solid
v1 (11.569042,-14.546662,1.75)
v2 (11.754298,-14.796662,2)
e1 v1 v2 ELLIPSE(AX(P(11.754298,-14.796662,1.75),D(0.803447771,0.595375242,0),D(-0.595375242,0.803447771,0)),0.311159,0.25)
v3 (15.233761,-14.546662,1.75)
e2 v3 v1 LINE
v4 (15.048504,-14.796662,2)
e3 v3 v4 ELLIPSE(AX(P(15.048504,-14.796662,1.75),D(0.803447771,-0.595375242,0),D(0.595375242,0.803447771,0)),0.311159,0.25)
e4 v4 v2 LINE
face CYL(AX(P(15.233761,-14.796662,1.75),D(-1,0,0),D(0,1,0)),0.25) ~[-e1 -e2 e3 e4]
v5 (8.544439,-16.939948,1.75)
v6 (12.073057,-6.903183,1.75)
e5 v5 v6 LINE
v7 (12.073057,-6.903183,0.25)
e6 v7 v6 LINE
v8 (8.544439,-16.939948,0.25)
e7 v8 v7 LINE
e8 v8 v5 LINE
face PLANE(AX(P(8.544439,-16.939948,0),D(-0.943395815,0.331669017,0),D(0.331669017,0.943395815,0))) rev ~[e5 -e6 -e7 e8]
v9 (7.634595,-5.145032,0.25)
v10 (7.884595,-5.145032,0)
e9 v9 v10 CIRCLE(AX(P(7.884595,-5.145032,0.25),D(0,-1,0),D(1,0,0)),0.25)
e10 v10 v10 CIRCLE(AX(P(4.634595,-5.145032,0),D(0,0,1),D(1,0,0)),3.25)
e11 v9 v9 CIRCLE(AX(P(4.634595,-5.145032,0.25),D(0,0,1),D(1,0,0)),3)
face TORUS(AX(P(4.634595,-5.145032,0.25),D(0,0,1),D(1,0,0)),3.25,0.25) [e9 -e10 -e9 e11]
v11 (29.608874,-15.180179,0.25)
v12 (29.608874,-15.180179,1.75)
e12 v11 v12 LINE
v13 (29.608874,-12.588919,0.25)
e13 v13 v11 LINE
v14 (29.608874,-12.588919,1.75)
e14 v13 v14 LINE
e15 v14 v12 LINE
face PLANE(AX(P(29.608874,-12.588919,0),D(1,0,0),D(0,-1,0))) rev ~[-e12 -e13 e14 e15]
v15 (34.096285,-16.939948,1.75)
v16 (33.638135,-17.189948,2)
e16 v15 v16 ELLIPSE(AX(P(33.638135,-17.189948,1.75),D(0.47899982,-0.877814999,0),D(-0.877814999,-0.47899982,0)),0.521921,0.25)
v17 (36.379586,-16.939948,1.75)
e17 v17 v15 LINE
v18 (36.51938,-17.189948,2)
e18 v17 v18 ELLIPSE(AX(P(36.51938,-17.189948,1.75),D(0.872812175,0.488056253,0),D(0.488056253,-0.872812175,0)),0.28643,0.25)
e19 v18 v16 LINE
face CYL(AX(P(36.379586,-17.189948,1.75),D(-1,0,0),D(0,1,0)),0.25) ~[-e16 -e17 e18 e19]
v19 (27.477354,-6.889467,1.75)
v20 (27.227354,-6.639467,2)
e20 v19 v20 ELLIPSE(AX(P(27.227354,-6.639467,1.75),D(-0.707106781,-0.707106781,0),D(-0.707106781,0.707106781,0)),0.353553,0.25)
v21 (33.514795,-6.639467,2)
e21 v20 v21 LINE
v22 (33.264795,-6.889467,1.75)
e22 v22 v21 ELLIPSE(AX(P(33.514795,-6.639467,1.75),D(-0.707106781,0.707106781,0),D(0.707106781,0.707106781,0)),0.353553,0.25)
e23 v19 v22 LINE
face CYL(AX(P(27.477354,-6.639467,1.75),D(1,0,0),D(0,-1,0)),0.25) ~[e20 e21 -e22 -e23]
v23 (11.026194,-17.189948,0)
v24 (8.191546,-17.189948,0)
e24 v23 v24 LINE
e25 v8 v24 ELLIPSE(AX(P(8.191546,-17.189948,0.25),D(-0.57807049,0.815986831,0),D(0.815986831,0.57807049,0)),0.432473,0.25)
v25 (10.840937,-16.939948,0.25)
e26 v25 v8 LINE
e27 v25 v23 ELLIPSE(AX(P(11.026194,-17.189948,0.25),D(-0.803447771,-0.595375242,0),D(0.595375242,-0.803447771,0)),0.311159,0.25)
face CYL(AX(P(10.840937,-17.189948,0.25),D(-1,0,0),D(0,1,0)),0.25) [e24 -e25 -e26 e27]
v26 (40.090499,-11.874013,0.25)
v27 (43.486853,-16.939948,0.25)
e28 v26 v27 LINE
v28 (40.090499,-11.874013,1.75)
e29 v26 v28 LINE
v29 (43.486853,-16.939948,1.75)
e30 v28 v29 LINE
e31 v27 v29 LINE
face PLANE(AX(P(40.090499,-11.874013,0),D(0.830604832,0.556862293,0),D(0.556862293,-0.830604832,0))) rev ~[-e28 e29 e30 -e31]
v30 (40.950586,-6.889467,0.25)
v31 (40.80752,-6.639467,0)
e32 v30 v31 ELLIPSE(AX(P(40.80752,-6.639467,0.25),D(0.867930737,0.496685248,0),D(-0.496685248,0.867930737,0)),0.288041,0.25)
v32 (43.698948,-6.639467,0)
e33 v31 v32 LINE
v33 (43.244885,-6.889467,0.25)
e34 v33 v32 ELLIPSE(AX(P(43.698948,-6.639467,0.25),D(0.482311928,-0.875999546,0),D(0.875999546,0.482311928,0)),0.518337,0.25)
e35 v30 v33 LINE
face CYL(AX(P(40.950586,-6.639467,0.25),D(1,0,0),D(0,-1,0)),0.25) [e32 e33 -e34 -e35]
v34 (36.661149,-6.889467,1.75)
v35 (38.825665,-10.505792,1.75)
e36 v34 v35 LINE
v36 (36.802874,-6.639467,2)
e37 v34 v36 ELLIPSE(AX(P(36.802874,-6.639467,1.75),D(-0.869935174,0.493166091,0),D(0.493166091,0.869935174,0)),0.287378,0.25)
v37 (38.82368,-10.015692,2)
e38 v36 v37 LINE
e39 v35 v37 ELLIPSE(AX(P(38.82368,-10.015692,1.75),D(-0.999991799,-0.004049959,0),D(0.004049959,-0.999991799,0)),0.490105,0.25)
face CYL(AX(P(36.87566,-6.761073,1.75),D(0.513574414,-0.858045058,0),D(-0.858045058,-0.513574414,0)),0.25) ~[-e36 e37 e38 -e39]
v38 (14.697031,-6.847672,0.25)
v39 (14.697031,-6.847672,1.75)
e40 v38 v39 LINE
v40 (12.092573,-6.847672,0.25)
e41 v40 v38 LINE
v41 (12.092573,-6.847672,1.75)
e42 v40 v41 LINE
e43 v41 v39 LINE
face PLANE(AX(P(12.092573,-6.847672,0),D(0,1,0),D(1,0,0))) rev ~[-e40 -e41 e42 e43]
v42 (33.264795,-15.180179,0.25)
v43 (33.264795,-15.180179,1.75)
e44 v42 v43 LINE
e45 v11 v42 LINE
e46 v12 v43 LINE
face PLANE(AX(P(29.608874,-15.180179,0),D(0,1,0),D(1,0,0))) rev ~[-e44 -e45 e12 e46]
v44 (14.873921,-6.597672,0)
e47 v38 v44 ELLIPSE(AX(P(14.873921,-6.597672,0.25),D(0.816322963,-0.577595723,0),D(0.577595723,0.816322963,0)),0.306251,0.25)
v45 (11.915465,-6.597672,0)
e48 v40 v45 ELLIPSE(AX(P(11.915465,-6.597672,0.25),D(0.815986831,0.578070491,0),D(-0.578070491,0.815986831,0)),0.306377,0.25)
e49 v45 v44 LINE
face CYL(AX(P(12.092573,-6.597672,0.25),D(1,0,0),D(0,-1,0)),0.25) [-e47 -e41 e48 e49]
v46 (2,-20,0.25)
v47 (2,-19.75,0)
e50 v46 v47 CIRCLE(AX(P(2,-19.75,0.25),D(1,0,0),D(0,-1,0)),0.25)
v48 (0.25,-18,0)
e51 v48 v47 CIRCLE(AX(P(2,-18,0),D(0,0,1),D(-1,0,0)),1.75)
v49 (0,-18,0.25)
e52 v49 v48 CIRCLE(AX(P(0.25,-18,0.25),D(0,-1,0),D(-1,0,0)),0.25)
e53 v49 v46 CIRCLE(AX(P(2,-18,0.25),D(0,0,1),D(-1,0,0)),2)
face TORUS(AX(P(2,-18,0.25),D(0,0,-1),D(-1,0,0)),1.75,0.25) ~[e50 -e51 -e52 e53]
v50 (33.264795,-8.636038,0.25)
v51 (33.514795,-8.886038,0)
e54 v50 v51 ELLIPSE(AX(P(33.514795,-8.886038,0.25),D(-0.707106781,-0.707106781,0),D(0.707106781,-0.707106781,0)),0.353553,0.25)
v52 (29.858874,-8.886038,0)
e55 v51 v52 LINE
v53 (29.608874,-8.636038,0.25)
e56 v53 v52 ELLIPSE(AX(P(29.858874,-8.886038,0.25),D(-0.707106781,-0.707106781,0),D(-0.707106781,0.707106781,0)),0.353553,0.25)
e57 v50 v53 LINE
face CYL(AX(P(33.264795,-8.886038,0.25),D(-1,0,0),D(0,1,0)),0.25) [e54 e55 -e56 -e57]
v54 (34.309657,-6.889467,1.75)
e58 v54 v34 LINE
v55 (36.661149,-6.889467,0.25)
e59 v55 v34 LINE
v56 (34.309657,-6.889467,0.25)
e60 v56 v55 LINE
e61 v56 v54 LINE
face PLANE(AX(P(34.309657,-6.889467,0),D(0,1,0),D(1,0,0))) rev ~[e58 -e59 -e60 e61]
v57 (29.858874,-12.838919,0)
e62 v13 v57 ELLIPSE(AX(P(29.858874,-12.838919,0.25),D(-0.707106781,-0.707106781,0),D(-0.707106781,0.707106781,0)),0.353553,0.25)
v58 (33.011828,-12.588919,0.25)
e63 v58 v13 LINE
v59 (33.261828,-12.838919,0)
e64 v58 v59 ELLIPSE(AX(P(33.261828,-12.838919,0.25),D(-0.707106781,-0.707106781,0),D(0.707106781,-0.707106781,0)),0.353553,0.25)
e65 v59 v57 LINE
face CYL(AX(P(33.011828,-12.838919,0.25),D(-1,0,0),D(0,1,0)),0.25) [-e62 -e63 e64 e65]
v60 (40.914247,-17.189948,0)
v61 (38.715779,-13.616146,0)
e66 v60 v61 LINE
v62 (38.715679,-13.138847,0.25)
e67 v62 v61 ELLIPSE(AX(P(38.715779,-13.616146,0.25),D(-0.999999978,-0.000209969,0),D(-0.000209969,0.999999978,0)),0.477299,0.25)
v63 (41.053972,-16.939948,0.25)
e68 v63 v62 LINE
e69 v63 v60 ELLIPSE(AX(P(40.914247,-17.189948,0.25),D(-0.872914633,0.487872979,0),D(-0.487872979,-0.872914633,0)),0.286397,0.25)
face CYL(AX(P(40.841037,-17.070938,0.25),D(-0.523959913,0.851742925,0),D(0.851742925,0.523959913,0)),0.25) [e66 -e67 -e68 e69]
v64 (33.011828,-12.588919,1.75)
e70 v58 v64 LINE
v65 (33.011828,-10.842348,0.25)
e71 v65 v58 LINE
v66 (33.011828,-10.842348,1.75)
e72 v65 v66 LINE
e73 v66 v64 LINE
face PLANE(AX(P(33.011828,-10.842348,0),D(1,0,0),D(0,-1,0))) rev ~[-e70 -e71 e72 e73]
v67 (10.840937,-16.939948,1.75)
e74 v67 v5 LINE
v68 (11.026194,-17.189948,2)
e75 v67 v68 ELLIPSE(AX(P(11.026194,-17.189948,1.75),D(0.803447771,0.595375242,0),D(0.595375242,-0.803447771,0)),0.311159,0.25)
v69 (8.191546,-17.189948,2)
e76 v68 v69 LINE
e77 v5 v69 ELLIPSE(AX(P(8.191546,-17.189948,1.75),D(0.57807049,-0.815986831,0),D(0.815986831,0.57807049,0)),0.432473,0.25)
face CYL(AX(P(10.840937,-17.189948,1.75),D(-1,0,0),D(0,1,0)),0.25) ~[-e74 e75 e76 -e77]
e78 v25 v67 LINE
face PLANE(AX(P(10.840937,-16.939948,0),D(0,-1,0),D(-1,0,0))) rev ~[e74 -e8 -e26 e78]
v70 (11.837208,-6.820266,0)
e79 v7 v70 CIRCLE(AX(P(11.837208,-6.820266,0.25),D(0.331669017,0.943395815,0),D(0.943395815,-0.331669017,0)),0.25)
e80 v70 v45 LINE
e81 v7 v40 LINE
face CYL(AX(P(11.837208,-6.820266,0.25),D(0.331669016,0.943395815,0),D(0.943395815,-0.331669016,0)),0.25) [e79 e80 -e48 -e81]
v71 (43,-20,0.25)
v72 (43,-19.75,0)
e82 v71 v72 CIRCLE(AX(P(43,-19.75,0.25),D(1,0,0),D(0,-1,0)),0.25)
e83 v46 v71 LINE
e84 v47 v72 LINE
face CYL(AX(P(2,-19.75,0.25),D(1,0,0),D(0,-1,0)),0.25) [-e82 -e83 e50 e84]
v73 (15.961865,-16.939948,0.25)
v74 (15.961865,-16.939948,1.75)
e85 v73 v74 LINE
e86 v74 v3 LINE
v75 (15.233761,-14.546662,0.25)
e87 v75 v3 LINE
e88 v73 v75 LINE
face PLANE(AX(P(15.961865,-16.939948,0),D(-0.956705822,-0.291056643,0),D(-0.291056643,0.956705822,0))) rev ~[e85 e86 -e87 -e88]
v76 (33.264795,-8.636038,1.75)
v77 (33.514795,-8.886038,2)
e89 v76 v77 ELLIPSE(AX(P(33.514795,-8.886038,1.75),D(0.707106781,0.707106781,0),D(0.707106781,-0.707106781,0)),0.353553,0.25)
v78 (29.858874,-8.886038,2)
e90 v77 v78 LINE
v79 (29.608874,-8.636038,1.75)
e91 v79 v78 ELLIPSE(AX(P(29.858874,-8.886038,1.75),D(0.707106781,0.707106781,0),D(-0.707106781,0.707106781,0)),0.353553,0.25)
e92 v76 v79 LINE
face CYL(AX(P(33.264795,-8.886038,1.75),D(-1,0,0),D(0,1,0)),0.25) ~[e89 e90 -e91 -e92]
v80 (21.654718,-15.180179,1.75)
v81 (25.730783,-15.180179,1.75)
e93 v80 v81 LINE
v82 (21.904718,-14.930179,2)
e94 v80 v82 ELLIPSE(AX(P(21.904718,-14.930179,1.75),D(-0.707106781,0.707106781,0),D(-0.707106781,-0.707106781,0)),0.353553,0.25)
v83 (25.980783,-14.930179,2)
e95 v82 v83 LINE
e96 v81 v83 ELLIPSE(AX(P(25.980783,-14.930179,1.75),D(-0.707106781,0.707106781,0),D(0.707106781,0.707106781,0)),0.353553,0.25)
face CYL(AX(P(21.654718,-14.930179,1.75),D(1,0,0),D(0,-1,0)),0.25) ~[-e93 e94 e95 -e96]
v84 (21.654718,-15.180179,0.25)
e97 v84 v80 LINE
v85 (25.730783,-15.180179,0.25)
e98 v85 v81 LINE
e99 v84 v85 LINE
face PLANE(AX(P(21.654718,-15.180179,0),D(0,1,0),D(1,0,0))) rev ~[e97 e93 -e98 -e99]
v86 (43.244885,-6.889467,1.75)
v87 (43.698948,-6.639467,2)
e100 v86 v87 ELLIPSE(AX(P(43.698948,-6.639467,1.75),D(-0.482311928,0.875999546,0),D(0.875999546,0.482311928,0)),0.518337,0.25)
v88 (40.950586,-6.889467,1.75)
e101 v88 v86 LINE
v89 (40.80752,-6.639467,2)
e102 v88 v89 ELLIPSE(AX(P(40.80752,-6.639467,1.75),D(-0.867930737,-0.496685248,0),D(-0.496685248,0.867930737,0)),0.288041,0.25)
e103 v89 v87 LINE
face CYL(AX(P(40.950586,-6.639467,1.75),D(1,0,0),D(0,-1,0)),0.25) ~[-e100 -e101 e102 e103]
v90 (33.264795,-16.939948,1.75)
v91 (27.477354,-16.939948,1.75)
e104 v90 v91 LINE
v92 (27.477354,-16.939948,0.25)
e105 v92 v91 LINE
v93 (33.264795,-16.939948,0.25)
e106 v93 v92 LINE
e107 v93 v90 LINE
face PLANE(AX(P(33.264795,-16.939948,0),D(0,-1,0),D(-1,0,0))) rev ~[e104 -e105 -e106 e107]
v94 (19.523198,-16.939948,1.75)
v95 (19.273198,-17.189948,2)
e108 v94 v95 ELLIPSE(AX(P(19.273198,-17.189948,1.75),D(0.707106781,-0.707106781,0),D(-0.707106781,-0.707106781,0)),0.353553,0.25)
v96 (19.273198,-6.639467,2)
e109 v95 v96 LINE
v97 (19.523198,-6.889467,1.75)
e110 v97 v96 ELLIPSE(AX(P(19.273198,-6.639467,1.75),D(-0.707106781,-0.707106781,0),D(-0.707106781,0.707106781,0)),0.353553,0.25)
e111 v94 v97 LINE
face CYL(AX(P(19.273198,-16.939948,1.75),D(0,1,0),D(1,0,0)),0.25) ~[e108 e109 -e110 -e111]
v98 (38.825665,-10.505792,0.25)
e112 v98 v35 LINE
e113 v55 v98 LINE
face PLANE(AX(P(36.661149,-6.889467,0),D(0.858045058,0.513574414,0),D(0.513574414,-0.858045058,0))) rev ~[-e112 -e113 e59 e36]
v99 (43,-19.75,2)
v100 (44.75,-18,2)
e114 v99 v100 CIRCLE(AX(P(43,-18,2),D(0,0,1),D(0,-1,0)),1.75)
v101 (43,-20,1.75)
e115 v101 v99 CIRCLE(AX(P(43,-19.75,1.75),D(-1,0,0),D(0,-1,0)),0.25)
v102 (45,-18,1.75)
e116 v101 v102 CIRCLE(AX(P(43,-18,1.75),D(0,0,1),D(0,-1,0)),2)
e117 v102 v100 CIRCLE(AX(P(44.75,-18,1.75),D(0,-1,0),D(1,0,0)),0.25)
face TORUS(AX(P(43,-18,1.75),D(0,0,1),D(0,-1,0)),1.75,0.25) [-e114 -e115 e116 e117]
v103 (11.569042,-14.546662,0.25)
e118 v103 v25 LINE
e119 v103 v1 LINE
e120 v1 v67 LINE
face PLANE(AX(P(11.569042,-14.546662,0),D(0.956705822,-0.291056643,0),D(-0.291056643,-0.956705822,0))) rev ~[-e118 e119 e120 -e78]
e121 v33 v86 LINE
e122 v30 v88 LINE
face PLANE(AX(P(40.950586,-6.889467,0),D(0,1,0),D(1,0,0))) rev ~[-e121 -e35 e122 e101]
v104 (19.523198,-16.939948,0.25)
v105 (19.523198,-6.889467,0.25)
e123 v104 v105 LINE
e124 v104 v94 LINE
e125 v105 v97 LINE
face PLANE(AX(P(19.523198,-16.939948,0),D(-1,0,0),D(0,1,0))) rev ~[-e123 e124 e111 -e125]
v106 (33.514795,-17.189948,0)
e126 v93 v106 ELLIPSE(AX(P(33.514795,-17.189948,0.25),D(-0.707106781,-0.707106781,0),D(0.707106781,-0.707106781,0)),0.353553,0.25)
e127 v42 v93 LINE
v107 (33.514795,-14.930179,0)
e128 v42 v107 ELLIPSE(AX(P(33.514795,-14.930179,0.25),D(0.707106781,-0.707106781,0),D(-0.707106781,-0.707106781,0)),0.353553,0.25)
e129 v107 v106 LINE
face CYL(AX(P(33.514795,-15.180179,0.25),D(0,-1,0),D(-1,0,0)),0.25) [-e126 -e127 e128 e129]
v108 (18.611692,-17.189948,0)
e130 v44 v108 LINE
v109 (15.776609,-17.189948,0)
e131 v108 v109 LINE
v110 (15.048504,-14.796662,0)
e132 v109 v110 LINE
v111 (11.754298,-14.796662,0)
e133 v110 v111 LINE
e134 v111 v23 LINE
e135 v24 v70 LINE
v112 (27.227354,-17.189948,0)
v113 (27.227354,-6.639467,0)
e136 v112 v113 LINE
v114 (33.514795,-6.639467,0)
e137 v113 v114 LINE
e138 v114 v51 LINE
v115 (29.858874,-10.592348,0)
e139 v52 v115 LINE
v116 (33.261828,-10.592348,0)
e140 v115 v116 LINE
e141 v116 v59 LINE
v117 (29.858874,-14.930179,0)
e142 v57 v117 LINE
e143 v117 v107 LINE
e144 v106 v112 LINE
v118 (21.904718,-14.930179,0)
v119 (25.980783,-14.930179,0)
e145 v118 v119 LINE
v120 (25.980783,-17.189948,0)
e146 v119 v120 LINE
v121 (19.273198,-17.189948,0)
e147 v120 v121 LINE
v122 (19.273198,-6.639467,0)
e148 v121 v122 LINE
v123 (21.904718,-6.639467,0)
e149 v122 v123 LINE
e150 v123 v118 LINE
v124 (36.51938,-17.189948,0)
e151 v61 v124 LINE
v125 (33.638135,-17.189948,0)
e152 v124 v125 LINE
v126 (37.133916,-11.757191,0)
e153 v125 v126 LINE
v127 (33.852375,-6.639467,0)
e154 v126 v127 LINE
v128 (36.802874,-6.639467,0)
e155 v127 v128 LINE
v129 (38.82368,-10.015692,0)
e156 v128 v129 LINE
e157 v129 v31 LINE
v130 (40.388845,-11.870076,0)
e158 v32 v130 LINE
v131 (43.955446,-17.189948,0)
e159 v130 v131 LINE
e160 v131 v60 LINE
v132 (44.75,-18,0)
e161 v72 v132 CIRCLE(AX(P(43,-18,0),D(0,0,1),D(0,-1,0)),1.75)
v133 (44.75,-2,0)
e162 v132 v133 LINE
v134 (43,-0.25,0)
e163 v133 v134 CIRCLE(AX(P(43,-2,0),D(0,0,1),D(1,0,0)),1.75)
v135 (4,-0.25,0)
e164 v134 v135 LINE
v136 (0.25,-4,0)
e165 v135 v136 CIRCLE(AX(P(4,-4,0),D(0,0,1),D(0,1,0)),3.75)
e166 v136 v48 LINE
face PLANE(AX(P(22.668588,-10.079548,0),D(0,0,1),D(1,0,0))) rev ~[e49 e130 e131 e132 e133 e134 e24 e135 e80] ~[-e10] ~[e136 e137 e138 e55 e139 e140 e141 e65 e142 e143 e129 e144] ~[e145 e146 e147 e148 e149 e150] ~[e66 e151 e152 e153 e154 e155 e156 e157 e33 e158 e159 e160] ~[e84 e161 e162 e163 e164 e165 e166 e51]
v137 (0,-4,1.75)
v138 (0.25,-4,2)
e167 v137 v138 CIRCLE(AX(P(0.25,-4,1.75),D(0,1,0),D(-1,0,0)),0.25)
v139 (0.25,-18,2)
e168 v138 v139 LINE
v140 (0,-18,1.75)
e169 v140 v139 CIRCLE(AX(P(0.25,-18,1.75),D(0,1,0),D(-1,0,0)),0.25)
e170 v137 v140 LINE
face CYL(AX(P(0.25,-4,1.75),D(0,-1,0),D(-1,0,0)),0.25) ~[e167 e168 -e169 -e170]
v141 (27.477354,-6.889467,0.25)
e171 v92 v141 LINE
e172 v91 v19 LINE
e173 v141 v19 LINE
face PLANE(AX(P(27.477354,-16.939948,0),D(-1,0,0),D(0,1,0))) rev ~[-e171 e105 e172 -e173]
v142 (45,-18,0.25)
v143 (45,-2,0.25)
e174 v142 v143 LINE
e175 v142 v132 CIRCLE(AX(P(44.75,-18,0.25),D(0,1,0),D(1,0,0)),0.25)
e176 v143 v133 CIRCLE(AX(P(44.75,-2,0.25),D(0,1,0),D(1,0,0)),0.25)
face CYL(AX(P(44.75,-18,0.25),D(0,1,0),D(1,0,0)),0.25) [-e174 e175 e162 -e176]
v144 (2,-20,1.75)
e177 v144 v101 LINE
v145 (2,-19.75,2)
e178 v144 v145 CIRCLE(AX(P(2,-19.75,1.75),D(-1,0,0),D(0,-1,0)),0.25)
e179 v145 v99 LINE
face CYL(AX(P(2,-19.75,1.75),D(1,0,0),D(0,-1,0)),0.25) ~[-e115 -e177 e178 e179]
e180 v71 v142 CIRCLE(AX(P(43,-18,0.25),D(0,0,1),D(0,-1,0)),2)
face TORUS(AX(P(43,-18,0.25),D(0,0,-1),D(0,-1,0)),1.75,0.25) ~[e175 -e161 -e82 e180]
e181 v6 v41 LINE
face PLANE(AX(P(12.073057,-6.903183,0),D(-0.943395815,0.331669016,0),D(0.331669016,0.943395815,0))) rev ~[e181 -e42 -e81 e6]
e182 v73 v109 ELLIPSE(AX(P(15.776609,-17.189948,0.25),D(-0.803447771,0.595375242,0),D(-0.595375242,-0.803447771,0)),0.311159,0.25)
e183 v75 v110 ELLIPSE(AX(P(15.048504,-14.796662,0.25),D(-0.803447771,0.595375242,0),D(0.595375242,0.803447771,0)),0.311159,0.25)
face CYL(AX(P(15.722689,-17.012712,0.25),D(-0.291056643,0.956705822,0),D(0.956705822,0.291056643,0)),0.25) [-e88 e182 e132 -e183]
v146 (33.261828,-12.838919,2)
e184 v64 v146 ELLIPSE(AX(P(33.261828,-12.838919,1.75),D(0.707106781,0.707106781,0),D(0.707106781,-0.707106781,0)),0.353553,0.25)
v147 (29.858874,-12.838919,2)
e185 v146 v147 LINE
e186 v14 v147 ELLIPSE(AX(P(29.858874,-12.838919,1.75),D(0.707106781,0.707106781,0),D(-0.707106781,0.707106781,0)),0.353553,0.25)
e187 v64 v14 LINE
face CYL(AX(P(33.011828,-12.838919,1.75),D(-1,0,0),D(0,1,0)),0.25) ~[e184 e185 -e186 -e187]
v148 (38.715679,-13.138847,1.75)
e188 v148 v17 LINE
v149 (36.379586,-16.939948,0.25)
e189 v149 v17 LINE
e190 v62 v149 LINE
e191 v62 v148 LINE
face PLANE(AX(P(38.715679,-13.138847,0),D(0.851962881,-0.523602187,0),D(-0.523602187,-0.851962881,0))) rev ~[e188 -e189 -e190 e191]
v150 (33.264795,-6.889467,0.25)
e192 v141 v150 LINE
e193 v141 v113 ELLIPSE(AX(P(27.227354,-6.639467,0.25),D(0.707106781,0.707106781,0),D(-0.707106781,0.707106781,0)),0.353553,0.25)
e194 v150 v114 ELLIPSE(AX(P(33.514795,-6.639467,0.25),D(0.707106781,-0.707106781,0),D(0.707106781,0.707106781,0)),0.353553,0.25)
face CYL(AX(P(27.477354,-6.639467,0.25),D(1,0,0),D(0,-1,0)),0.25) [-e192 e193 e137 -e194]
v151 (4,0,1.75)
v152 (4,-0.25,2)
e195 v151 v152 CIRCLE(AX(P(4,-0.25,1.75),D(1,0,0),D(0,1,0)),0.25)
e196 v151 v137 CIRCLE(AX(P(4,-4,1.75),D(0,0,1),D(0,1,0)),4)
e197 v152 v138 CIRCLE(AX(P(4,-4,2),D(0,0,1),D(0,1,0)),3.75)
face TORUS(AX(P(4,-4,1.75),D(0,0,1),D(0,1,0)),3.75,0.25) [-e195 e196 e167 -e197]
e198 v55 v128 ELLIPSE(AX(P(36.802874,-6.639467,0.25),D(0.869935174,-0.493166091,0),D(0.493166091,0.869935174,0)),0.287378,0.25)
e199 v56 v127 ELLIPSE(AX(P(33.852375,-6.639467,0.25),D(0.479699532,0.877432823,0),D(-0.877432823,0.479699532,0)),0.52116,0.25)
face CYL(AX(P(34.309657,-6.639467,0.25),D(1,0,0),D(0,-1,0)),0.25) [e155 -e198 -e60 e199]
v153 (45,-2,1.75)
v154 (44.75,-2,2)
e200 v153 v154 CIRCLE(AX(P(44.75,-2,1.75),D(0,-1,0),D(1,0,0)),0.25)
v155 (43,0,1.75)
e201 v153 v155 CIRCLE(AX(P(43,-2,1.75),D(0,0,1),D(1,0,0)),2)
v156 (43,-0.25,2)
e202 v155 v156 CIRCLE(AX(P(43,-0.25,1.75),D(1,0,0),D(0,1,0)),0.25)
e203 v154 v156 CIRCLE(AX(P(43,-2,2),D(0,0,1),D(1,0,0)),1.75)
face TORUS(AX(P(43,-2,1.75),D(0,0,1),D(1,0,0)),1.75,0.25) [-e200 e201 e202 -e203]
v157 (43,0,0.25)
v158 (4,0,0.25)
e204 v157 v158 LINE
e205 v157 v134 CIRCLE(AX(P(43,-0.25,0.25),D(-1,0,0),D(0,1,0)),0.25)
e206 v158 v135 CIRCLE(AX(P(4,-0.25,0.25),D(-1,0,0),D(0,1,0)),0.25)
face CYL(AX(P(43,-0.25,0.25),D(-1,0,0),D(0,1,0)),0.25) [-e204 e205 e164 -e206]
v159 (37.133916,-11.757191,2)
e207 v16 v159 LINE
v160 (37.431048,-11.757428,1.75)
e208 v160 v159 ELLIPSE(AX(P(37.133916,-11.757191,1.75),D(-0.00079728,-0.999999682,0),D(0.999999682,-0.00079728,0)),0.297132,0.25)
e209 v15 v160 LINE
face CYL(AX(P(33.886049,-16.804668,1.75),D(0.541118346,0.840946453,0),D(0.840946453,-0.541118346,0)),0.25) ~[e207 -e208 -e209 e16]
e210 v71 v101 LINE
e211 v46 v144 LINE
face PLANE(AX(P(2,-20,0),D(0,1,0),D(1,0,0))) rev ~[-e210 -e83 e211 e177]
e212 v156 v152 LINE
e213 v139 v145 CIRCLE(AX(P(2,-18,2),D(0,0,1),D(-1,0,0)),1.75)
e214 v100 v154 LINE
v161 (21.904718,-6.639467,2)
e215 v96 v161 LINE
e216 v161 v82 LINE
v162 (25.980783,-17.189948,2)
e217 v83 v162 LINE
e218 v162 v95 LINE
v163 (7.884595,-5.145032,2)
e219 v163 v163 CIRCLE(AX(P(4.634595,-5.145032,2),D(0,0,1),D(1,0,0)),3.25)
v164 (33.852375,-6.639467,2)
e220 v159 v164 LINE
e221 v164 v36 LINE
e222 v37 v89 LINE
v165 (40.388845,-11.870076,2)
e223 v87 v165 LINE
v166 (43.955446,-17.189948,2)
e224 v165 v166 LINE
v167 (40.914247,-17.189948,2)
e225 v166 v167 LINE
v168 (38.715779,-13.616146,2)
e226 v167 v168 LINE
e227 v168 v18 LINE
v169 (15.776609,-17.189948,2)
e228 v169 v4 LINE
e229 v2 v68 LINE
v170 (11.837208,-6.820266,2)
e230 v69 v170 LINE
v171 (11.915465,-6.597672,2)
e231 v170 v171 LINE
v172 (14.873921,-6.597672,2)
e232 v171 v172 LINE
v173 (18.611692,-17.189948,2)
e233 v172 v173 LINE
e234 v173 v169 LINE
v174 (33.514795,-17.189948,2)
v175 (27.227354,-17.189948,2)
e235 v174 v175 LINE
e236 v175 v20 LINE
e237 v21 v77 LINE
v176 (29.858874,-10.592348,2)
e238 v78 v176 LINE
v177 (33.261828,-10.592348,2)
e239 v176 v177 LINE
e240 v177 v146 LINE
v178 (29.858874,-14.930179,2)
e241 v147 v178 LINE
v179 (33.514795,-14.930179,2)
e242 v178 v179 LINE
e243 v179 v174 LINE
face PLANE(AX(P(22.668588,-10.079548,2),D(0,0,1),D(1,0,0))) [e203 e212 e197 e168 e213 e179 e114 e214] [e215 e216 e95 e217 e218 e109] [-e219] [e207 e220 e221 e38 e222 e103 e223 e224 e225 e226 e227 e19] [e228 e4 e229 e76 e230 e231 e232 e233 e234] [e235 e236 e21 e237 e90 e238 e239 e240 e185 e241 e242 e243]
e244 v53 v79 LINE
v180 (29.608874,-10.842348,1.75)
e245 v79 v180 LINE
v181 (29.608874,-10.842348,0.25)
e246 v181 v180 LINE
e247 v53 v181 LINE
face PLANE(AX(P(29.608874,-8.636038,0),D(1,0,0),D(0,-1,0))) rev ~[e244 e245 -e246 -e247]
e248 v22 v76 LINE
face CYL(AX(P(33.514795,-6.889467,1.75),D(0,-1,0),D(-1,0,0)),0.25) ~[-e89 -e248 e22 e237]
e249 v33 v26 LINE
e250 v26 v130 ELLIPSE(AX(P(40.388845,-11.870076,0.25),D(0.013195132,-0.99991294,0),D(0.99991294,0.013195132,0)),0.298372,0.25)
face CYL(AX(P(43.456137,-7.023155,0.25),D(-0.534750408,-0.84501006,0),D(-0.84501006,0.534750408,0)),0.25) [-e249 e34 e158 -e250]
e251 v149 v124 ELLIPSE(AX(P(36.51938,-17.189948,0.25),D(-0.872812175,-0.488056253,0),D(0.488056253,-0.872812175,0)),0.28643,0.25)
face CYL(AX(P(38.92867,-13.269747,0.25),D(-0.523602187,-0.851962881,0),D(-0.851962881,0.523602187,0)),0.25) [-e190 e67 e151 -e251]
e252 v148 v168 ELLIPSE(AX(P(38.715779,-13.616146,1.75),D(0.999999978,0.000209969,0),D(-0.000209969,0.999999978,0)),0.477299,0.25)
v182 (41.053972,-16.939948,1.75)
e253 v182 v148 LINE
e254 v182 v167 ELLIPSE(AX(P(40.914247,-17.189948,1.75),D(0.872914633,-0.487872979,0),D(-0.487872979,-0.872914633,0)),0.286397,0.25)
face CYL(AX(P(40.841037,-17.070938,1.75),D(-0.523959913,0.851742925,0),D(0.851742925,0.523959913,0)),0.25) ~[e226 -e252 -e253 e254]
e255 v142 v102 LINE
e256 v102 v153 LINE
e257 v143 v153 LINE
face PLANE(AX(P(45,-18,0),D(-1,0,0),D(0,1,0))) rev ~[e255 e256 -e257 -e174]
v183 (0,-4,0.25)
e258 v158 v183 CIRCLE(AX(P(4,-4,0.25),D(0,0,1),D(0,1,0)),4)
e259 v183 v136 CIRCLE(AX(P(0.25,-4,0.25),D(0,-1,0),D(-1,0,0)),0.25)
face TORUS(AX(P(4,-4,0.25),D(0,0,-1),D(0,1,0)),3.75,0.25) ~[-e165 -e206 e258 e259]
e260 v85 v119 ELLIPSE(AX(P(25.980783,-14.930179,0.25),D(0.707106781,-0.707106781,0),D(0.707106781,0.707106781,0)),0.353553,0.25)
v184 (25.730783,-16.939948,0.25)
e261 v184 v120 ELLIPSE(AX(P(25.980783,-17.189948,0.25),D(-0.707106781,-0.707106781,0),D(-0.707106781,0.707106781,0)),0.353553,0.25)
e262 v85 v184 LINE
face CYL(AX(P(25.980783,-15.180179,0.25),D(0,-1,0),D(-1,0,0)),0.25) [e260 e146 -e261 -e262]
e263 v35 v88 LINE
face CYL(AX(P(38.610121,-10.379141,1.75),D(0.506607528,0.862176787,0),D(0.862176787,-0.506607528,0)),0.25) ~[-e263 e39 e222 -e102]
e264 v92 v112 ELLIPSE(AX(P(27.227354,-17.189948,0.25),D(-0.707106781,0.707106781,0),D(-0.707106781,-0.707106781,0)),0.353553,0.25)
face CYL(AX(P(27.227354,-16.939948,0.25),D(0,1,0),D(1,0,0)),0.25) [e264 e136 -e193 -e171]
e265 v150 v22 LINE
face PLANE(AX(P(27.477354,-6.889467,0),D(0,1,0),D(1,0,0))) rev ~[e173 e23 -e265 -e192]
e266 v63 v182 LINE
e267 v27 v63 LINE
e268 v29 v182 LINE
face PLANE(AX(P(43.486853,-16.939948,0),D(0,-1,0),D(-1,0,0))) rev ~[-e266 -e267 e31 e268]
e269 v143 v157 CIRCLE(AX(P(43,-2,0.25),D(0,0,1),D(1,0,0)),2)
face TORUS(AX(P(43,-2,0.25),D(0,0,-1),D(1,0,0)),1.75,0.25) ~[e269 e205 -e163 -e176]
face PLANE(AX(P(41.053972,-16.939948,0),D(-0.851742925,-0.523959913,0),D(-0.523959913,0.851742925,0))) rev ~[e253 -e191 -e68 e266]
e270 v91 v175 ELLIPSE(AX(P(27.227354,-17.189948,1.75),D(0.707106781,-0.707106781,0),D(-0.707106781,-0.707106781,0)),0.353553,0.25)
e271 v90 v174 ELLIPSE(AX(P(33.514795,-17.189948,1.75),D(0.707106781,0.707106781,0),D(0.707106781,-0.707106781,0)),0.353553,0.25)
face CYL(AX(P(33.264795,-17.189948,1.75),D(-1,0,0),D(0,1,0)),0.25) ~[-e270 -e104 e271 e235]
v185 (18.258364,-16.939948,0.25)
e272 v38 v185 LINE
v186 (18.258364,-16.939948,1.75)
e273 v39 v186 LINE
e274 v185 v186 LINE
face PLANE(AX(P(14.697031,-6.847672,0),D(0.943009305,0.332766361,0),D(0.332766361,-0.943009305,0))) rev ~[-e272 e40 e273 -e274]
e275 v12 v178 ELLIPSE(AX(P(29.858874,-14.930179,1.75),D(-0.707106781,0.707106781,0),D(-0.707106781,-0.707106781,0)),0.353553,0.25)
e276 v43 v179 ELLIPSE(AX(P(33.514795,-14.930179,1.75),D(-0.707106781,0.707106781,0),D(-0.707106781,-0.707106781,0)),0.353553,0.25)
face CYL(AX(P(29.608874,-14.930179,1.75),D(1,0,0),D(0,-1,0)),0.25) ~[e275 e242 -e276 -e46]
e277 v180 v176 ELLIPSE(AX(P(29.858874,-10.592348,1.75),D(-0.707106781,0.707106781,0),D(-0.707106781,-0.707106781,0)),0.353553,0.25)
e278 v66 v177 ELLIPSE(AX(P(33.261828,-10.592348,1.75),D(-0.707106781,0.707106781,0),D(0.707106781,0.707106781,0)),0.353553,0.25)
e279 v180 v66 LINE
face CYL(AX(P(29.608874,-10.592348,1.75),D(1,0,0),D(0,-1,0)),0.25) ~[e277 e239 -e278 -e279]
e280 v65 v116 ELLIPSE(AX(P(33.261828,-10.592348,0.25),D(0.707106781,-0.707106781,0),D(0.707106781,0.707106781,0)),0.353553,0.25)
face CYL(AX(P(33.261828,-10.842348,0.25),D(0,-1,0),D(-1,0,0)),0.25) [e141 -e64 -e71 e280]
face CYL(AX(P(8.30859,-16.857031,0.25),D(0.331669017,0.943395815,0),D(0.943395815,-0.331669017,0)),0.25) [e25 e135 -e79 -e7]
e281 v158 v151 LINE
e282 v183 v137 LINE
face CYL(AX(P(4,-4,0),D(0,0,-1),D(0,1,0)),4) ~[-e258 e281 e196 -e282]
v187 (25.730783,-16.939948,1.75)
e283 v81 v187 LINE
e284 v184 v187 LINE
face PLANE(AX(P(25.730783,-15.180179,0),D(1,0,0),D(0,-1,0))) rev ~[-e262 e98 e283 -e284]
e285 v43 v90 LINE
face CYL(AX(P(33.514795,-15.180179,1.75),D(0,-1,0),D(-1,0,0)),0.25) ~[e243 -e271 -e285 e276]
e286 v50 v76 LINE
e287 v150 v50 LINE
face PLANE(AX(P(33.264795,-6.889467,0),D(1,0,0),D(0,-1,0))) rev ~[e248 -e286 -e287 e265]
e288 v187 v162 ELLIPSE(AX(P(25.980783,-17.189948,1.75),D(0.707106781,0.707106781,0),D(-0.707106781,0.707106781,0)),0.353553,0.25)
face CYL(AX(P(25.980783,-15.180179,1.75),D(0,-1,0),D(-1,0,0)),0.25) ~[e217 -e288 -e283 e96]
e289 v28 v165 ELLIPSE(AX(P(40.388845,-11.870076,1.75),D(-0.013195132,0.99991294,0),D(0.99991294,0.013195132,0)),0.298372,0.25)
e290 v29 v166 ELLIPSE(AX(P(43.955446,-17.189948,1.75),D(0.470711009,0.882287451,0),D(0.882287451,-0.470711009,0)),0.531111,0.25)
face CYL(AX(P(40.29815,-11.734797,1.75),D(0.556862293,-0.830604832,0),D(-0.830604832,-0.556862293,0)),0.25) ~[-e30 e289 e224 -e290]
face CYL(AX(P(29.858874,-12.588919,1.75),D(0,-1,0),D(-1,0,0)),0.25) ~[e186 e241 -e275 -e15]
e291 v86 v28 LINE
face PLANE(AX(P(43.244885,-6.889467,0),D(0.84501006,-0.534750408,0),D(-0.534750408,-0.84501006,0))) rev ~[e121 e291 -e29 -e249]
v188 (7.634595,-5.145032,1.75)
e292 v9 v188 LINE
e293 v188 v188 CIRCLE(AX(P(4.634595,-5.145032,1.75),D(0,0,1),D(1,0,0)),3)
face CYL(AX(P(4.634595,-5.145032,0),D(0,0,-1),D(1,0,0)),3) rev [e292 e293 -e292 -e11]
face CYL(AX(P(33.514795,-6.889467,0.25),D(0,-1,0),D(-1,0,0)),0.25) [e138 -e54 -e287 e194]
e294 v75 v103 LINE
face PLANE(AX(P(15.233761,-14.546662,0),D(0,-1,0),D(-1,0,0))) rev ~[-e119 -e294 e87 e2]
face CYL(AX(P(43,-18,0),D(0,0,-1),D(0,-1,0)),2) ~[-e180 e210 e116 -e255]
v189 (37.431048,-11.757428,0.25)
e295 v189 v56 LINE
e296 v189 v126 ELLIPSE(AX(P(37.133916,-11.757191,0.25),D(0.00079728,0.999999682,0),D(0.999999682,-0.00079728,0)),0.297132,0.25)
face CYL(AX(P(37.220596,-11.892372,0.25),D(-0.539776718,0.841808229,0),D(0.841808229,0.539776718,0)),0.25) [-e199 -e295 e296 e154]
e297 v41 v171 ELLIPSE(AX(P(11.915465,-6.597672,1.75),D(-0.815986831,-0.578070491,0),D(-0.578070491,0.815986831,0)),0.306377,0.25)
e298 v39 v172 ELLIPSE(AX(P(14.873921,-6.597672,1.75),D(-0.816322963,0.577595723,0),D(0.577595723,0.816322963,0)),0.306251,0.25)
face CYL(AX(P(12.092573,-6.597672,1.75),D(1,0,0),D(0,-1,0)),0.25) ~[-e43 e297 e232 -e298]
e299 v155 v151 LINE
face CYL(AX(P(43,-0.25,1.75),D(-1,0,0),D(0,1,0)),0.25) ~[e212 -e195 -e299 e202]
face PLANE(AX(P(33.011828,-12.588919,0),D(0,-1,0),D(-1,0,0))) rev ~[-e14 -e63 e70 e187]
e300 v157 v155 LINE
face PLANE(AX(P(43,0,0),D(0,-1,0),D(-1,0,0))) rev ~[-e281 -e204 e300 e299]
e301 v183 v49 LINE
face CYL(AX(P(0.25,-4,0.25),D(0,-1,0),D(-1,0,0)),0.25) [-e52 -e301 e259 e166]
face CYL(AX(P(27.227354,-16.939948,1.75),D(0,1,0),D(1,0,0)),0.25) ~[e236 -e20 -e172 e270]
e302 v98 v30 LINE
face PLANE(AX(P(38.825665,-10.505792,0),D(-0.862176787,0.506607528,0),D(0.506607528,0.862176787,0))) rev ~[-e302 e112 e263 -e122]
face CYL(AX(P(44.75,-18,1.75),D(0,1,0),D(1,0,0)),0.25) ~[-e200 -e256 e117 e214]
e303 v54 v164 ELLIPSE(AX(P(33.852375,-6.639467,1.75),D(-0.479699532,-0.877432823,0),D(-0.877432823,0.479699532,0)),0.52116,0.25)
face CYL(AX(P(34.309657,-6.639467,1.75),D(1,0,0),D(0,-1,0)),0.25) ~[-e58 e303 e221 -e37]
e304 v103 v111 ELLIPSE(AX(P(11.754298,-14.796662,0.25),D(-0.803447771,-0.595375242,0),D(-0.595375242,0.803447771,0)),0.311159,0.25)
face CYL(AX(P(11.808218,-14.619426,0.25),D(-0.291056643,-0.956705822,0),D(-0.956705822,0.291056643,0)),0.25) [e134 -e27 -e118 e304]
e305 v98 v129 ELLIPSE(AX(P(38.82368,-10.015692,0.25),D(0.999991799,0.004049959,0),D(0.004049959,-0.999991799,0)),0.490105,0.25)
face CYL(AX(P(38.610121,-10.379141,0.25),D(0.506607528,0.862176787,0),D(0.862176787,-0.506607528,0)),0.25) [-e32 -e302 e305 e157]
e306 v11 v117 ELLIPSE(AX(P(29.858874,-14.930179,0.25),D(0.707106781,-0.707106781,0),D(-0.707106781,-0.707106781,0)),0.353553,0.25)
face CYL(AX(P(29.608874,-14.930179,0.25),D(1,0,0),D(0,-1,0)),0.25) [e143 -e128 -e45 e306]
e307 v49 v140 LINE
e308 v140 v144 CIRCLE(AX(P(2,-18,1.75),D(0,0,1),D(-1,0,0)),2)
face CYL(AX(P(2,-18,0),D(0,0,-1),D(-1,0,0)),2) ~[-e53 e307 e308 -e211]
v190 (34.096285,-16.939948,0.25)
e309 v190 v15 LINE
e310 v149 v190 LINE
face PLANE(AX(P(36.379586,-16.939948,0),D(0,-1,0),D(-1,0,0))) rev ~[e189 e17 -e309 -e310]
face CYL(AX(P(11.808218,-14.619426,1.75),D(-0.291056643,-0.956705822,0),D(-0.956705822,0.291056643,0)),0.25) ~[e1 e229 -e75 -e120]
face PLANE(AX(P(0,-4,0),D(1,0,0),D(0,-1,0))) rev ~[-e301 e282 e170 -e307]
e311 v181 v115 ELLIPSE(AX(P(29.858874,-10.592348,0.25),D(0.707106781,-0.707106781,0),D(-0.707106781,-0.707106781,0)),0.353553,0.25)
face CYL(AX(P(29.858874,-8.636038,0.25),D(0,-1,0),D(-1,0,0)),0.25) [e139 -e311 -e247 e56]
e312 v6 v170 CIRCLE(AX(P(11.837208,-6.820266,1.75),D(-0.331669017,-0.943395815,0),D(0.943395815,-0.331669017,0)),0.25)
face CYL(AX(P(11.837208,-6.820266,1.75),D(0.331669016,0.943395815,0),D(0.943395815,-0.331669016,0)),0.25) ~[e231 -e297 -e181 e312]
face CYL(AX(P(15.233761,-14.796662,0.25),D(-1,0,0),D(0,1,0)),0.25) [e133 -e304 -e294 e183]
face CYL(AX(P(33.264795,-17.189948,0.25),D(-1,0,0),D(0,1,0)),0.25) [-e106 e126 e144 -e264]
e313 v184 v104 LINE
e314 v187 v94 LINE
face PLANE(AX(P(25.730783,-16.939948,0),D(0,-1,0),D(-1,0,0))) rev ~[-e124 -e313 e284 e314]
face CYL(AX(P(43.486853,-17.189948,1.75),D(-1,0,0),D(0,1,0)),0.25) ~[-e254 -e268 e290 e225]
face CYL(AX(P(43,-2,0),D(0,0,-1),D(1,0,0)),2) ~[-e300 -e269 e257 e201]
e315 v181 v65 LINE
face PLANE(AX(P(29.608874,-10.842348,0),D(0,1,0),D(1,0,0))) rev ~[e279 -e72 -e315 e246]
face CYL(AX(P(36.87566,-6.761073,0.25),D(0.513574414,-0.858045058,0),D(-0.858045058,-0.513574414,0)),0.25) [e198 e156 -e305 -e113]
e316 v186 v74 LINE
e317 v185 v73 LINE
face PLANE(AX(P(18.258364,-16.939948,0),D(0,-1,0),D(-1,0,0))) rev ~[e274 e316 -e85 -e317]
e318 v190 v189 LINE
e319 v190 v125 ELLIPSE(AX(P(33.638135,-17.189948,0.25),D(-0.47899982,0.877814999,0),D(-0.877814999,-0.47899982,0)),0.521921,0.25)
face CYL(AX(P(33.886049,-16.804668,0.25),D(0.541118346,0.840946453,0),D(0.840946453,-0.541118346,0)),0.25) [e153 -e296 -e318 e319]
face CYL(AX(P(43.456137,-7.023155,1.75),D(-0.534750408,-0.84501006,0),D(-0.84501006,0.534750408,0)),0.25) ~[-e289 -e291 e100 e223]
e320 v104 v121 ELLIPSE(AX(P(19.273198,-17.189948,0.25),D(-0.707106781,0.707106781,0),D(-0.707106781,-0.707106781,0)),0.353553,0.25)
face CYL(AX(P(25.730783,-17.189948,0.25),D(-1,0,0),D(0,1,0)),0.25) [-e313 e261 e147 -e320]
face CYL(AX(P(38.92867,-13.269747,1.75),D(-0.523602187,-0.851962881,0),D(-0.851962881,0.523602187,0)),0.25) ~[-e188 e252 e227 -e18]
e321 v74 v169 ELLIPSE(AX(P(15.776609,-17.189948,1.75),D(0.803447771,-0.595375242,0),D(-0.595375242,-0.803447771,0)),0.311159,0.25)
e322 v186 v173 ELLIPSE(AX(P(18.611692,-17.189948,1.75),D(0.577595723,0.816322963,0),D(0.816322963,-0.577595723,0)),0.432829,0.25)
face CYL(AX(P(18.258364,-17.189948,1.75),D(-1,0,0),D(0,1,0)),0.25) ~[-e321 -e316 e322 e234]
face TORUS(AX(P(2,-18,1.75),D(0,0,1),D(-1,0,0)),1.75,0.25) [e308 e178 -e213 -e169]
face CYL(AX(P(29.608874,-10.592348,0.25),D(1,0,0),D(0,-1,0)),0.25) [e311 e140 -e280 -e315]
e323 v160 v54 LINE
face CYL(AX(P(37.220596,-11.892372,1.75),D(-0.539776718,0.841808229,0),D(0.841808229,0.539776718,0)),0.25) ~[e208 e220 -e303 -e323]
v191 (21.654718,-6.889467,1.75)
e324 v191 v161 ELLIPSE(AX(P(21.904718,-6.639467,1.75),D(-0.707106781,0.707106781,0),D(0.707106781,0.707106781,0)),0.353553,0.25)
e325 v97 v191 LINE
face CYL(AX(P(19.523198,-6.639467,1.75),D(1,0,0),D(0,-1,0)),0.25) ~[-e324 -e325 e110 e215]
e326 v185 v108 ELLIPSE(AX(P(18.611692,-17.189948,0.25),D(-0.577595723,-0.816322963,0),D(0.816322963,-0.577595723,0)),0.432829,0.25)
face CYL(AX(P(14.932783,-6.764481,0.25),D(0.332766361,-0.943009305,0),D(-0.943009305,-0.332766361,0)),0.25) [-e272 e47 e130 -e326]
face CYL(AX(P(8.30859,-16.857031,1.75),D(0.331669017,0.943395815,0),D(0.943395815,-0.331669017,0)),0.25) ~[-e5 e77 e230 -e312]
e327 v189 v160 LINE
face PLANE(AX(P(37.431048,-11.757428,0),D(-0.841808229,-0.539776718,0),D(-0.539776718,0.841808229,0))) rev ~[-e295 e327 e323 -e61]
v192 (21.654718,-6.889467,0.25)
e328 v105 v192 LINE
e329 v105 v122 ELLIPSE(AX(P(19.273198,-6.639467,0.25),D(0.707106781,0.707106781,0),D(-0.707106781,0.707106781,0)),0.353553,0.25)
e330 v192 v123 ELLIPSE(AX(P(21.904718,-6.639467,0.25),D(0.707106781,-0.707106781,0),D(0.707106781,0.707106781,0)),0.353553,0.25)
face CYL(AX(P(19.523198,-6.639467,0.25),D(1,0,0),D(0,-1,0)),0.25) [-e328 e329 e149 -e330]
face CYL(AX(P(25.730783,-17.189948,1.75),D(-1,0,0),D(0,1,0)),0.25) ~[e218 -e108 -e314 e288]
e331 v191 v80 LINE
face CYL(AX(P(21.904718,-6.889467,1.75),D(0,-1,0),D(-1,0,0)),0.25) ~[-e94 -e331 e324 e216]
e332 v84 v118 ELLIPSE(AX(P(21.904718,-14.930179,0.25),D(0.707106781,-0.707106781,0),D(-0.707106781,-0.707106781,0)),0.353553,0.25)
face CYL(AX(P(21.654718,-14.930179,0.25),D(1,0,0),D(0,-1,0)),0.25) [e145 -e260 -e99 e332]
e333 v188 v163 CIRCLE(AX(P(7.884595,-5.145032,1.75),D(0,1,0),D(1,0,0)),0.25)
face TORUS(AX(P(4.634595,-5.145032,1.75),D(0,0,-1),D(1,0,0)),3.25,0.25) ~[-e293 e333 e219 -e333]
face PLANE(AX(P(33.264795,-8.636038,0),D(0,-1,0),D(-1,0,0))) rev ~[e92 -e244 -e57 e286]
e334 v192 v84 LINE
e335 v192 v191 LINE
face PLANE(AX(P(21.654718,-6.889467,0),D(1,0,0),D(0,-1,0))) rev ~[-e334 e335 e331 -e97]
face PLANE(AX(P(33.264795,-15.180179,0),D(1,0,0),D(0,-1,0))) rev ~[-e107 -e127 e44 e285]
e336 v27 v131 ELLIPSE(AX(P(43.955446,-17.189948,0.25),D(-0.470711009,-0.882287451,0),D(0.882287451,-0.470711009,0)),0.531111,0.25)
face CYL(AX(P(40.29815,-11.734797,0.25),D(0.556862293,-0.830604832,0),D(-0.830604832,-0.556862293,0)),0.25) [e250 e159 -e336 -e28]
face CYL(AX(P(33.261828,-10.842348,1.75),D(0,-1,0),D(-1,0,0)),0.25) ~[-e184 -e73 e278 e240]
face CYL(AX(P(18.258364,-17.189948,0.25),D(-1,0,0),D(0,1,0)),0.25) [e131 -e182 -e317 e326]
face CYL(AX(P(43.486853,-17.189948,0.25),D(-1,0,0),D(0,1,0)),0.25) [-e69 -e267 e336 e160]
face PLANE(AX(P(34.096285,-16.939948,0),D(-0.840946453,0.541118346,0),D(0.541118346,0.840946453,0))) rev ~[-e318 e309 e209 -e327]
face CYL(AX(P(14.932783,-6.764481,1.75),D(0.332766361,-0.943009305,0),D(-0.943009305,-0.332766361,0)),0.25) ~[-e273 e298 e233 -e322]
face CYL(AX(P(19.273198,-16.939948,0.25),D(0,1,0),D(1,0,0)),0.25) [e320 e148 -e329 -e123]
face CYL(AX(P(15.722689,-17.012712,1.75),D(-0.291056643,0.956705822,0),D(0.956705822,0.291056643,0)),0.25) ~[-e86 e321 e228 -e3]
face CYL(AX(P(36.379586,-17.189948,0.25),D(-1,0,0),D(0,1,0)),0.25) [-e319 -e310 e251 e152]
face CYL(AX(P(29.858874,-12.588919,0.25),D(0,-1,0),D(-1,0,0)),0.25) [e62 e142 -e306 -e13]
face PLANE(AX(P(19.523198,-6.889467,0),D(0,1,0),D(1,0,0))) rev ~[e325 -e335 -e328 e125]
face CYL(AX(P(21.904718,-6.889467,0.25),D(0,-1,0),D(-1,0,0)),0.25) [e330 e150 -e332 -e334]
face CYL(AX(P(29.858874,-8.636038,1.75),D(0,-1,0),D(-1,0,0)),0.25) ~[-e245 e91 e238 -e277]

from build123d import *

# Parameters (mm, degrees)
F0_R     = 3
F1_DEPTH = 2
F2_R     = 0.25


with BuildPart() as f1:
    # F0 (on Top) → F1 (new body)
    with BuildSketch(Plane.XY):
        with BuildLine():
            Line((43, 0), (4, 0))
            ThreePointArc((4, 0), (1.1715728753, -1.1715728753), (0, -4))
            Line((0, -4), (0, -18))
            ThreePointArc((0, -18), (0.5857864376, -19.4142135624), (2, -20))
            Line((2, -20), (43, -20))
            ThreePointArc((43, -20), (44.4142135624, -19.4142135624), (45, -18))
            Line((45, -18), (45, -2))
            ThreePointArc((45, -2), (44.4142135624, -0.5857864376), (43, 0))
        make_face()
        Polygon((8.5444385186, -16.9399480801), (12.0730569637, -6.9031834019), (12.0925729076, -6.847672459), (14.6970311324, -6.847672459), (18.2583637895, -16.9399480801), (15.961865152, -16.9399480801), (15.233760699, -14.5466621438), (11.569041609, -14.5466621438), (10.840937156, -16.9399480801), align=None, mode=Mode.SUBTRACT)
        Polygon((25.7307832064, -16.9399480801), (19.5231978091, -16.9399480801), (19.5231978091, -6.8894669744), (21.6547180961, -6.8894669744), (21.6547180961, -15.1801790093), (25.7307832064, -15.1801790093), align=None, mode=Mode.SUBTRACT)
        Polygon((33.2647945408, -15.1801790093), (33.2647945408, -16.9399480801), (27.4773540092, -16.9399480801), (27.4773540092, -6.8894669744), (33.2647945408, -6.8894669744), (33.2647945408, -8.6360377772), (29.6088742962, -8.6360377772), (29.6088742962, -10.8423482498), (33.0118277369, -10.8423482498), (33.0118277369, -12.5889190525), (29.6088742962, -12.5889190525), (29.6088742962, -15.1801790093), align=None, mode=Mode.SUBTRACT)
        Polygon((40.0904988242, -11.8740128675), (43.4868531308, -16.9399480801), (41.0539723904, -16.9399480801), (38.7156792376, -13.1388468872), (36.3795857961, -16.9399480801), (34.0962854267, -16.9399480801), (37.4310478159, -11.7574281666), (34.3096574266, -6.8894669744), (36.6611488474, -6.8894669744), (38.8256648045, -10.505792415), (40.9505859575, -6.8894669744), (43.2448848836, -6.8894669744), align=None, mode=Mode.SUBTRACT)
        with Locations((4.6345947038, -5.1450321897)):
            Circle(F0_R, mode=Mode.SUBTRACT)
    extrude(amount=F1_DEPTH)

    # F2
    f2_edges = [f1.edges().sort_by_distance(p)[0] for p in [
        (23.5, 0, 2),
        (1.171573, -1.171573, 2),
        (0, -11, 2),
        (0.585786, -19.414214, 2),
        (22.5, -20, 2),
        (44.414214, -19.414214, 2),
        (45, -10, 2),
        (44.414214, -0.585786, 2),
        (10.318506, -11.89381, 2),
        (13.394802, -6.847672, 2),
        (16.477697, -11.89381, 2),
        (17.110114, -16.939948, 2),
        (15.597813, -15.743305, 2),
        (13.401401, -14.546662, 2),
        (11.204989, -15.743305, 2),
        (9.692688, -16.939948, 2),
        (22.626991, -16.939948, 2),
        (19.523198, -11.914708, 2),
        (20.588958, -6.889467, 2),
        (21.654718, -11.034823, 2),
        (23.692751, -15.180179, 2),
        (25.730783, -16.060064, 2),
        (33.264795, -16.060064, 2),
        (30.371074, -16.939948, 2),
        (27.477354, -11.914708, 2),
        (30.371074, -6.889467, 2),
        (33.264795, -7.762752, 2),
        (31.436834, -8.636038, 2),
        (29.608874, -9.739193, 2),
        (31.310351, -10.842348, 2),
        (33.011828, -11.715634, 2),
        (31.310351, -12.588919, 2),
        (29.608874, -13.884549, 2),
        (31.436834, -15.180179, 2),
        (41.788676, -14.40698, 2),
        (42.270413, -16.939948, 2),
        (39.884826, -15.039397, 2),
        (37.547633, -15.039397, 2),
        (35.237936, -16.939948, 2),
        (35.763667, -14.348688, 2),
        (35.870353, -9.323448, 2),
        (35.485403, -6.889467, 2),
        (37.743407, -8.69763, 2),
        (39.888125, -8.69763, 2),
        (42.097735, -6.889467, 2),
        (41.667692, -9.38174, 2),
        (1.634595, -5.145032, 2),
        (23.5, 0, 0),
        (1.171573, -1.171573, 0),
        (0, -11, 0),
        (0.585786, -19.414214, 0),
        (22.5, -20, 0),
        (44.414214, -19.414214, 0),
        (45, -10, 0),
        (44.414214, -0.585786, 0),
        (10.318506, -11.89381, 0),
        (13.394802, -6.847672, 0),
        (16.477697, -11.89381, 0),
        (17.110114, -16.939948, 0),
        (15.597813, -15.743305, 0),
        (13.401401, -14.546662, 0),
        (11.204989, -15.743305, 0),
        (9.692688, -16.939948, 0),
        (22.626991, -16.939948, 0),
        (19.523198, -11.914708, 0),
        (20.588958, -6.889467, 0),
        (21.654718, -11.034823, 0),
        (23.692751, -15.180179, 0),
        (25.730783, -16.060064, 0),
        (33.264795, -16.060064, 0),
        (30.371074, -16.939948, 0),
        (27.477354, -11.914708, 0),
        (30.371074, -6.889467, 0),
        (33.264795, -7.762752, 0),
        (31.436834, -8.636038, 0),
        (29.608874, -9.739193, 0),
        (31.310351, -10.842348, 0),
        (33.011828, -11.715634, 0),
        (31.310351, -12.588919, 0),
        (29.608874, -13.884549, 0),
        (31.436834, -15.180179, 0),
        (41.788676, -14.40698, 0),
        (42.270413, -16.939948, 0),
        (39.884826, -15.039397, 0),
        (37.547633, -15.039397, 0),
        (35.237936, -16.939948, 0),
        (35.763667, -14.348688, 0),
        (35.870353, -9.323448, 0),
        (35.485403, -6.889467, 0),
        (37.743407, -8.69763, 0),
        (39.888125, -8.69763, 0),
        (42.097735, -6.889467, 0),
        (41.667692, -9.38174, 0),
        (1.634595, -5.145032, 0),
    ]]
    fillet(f2_edges, radius=F2_R)


solid = f1.part
